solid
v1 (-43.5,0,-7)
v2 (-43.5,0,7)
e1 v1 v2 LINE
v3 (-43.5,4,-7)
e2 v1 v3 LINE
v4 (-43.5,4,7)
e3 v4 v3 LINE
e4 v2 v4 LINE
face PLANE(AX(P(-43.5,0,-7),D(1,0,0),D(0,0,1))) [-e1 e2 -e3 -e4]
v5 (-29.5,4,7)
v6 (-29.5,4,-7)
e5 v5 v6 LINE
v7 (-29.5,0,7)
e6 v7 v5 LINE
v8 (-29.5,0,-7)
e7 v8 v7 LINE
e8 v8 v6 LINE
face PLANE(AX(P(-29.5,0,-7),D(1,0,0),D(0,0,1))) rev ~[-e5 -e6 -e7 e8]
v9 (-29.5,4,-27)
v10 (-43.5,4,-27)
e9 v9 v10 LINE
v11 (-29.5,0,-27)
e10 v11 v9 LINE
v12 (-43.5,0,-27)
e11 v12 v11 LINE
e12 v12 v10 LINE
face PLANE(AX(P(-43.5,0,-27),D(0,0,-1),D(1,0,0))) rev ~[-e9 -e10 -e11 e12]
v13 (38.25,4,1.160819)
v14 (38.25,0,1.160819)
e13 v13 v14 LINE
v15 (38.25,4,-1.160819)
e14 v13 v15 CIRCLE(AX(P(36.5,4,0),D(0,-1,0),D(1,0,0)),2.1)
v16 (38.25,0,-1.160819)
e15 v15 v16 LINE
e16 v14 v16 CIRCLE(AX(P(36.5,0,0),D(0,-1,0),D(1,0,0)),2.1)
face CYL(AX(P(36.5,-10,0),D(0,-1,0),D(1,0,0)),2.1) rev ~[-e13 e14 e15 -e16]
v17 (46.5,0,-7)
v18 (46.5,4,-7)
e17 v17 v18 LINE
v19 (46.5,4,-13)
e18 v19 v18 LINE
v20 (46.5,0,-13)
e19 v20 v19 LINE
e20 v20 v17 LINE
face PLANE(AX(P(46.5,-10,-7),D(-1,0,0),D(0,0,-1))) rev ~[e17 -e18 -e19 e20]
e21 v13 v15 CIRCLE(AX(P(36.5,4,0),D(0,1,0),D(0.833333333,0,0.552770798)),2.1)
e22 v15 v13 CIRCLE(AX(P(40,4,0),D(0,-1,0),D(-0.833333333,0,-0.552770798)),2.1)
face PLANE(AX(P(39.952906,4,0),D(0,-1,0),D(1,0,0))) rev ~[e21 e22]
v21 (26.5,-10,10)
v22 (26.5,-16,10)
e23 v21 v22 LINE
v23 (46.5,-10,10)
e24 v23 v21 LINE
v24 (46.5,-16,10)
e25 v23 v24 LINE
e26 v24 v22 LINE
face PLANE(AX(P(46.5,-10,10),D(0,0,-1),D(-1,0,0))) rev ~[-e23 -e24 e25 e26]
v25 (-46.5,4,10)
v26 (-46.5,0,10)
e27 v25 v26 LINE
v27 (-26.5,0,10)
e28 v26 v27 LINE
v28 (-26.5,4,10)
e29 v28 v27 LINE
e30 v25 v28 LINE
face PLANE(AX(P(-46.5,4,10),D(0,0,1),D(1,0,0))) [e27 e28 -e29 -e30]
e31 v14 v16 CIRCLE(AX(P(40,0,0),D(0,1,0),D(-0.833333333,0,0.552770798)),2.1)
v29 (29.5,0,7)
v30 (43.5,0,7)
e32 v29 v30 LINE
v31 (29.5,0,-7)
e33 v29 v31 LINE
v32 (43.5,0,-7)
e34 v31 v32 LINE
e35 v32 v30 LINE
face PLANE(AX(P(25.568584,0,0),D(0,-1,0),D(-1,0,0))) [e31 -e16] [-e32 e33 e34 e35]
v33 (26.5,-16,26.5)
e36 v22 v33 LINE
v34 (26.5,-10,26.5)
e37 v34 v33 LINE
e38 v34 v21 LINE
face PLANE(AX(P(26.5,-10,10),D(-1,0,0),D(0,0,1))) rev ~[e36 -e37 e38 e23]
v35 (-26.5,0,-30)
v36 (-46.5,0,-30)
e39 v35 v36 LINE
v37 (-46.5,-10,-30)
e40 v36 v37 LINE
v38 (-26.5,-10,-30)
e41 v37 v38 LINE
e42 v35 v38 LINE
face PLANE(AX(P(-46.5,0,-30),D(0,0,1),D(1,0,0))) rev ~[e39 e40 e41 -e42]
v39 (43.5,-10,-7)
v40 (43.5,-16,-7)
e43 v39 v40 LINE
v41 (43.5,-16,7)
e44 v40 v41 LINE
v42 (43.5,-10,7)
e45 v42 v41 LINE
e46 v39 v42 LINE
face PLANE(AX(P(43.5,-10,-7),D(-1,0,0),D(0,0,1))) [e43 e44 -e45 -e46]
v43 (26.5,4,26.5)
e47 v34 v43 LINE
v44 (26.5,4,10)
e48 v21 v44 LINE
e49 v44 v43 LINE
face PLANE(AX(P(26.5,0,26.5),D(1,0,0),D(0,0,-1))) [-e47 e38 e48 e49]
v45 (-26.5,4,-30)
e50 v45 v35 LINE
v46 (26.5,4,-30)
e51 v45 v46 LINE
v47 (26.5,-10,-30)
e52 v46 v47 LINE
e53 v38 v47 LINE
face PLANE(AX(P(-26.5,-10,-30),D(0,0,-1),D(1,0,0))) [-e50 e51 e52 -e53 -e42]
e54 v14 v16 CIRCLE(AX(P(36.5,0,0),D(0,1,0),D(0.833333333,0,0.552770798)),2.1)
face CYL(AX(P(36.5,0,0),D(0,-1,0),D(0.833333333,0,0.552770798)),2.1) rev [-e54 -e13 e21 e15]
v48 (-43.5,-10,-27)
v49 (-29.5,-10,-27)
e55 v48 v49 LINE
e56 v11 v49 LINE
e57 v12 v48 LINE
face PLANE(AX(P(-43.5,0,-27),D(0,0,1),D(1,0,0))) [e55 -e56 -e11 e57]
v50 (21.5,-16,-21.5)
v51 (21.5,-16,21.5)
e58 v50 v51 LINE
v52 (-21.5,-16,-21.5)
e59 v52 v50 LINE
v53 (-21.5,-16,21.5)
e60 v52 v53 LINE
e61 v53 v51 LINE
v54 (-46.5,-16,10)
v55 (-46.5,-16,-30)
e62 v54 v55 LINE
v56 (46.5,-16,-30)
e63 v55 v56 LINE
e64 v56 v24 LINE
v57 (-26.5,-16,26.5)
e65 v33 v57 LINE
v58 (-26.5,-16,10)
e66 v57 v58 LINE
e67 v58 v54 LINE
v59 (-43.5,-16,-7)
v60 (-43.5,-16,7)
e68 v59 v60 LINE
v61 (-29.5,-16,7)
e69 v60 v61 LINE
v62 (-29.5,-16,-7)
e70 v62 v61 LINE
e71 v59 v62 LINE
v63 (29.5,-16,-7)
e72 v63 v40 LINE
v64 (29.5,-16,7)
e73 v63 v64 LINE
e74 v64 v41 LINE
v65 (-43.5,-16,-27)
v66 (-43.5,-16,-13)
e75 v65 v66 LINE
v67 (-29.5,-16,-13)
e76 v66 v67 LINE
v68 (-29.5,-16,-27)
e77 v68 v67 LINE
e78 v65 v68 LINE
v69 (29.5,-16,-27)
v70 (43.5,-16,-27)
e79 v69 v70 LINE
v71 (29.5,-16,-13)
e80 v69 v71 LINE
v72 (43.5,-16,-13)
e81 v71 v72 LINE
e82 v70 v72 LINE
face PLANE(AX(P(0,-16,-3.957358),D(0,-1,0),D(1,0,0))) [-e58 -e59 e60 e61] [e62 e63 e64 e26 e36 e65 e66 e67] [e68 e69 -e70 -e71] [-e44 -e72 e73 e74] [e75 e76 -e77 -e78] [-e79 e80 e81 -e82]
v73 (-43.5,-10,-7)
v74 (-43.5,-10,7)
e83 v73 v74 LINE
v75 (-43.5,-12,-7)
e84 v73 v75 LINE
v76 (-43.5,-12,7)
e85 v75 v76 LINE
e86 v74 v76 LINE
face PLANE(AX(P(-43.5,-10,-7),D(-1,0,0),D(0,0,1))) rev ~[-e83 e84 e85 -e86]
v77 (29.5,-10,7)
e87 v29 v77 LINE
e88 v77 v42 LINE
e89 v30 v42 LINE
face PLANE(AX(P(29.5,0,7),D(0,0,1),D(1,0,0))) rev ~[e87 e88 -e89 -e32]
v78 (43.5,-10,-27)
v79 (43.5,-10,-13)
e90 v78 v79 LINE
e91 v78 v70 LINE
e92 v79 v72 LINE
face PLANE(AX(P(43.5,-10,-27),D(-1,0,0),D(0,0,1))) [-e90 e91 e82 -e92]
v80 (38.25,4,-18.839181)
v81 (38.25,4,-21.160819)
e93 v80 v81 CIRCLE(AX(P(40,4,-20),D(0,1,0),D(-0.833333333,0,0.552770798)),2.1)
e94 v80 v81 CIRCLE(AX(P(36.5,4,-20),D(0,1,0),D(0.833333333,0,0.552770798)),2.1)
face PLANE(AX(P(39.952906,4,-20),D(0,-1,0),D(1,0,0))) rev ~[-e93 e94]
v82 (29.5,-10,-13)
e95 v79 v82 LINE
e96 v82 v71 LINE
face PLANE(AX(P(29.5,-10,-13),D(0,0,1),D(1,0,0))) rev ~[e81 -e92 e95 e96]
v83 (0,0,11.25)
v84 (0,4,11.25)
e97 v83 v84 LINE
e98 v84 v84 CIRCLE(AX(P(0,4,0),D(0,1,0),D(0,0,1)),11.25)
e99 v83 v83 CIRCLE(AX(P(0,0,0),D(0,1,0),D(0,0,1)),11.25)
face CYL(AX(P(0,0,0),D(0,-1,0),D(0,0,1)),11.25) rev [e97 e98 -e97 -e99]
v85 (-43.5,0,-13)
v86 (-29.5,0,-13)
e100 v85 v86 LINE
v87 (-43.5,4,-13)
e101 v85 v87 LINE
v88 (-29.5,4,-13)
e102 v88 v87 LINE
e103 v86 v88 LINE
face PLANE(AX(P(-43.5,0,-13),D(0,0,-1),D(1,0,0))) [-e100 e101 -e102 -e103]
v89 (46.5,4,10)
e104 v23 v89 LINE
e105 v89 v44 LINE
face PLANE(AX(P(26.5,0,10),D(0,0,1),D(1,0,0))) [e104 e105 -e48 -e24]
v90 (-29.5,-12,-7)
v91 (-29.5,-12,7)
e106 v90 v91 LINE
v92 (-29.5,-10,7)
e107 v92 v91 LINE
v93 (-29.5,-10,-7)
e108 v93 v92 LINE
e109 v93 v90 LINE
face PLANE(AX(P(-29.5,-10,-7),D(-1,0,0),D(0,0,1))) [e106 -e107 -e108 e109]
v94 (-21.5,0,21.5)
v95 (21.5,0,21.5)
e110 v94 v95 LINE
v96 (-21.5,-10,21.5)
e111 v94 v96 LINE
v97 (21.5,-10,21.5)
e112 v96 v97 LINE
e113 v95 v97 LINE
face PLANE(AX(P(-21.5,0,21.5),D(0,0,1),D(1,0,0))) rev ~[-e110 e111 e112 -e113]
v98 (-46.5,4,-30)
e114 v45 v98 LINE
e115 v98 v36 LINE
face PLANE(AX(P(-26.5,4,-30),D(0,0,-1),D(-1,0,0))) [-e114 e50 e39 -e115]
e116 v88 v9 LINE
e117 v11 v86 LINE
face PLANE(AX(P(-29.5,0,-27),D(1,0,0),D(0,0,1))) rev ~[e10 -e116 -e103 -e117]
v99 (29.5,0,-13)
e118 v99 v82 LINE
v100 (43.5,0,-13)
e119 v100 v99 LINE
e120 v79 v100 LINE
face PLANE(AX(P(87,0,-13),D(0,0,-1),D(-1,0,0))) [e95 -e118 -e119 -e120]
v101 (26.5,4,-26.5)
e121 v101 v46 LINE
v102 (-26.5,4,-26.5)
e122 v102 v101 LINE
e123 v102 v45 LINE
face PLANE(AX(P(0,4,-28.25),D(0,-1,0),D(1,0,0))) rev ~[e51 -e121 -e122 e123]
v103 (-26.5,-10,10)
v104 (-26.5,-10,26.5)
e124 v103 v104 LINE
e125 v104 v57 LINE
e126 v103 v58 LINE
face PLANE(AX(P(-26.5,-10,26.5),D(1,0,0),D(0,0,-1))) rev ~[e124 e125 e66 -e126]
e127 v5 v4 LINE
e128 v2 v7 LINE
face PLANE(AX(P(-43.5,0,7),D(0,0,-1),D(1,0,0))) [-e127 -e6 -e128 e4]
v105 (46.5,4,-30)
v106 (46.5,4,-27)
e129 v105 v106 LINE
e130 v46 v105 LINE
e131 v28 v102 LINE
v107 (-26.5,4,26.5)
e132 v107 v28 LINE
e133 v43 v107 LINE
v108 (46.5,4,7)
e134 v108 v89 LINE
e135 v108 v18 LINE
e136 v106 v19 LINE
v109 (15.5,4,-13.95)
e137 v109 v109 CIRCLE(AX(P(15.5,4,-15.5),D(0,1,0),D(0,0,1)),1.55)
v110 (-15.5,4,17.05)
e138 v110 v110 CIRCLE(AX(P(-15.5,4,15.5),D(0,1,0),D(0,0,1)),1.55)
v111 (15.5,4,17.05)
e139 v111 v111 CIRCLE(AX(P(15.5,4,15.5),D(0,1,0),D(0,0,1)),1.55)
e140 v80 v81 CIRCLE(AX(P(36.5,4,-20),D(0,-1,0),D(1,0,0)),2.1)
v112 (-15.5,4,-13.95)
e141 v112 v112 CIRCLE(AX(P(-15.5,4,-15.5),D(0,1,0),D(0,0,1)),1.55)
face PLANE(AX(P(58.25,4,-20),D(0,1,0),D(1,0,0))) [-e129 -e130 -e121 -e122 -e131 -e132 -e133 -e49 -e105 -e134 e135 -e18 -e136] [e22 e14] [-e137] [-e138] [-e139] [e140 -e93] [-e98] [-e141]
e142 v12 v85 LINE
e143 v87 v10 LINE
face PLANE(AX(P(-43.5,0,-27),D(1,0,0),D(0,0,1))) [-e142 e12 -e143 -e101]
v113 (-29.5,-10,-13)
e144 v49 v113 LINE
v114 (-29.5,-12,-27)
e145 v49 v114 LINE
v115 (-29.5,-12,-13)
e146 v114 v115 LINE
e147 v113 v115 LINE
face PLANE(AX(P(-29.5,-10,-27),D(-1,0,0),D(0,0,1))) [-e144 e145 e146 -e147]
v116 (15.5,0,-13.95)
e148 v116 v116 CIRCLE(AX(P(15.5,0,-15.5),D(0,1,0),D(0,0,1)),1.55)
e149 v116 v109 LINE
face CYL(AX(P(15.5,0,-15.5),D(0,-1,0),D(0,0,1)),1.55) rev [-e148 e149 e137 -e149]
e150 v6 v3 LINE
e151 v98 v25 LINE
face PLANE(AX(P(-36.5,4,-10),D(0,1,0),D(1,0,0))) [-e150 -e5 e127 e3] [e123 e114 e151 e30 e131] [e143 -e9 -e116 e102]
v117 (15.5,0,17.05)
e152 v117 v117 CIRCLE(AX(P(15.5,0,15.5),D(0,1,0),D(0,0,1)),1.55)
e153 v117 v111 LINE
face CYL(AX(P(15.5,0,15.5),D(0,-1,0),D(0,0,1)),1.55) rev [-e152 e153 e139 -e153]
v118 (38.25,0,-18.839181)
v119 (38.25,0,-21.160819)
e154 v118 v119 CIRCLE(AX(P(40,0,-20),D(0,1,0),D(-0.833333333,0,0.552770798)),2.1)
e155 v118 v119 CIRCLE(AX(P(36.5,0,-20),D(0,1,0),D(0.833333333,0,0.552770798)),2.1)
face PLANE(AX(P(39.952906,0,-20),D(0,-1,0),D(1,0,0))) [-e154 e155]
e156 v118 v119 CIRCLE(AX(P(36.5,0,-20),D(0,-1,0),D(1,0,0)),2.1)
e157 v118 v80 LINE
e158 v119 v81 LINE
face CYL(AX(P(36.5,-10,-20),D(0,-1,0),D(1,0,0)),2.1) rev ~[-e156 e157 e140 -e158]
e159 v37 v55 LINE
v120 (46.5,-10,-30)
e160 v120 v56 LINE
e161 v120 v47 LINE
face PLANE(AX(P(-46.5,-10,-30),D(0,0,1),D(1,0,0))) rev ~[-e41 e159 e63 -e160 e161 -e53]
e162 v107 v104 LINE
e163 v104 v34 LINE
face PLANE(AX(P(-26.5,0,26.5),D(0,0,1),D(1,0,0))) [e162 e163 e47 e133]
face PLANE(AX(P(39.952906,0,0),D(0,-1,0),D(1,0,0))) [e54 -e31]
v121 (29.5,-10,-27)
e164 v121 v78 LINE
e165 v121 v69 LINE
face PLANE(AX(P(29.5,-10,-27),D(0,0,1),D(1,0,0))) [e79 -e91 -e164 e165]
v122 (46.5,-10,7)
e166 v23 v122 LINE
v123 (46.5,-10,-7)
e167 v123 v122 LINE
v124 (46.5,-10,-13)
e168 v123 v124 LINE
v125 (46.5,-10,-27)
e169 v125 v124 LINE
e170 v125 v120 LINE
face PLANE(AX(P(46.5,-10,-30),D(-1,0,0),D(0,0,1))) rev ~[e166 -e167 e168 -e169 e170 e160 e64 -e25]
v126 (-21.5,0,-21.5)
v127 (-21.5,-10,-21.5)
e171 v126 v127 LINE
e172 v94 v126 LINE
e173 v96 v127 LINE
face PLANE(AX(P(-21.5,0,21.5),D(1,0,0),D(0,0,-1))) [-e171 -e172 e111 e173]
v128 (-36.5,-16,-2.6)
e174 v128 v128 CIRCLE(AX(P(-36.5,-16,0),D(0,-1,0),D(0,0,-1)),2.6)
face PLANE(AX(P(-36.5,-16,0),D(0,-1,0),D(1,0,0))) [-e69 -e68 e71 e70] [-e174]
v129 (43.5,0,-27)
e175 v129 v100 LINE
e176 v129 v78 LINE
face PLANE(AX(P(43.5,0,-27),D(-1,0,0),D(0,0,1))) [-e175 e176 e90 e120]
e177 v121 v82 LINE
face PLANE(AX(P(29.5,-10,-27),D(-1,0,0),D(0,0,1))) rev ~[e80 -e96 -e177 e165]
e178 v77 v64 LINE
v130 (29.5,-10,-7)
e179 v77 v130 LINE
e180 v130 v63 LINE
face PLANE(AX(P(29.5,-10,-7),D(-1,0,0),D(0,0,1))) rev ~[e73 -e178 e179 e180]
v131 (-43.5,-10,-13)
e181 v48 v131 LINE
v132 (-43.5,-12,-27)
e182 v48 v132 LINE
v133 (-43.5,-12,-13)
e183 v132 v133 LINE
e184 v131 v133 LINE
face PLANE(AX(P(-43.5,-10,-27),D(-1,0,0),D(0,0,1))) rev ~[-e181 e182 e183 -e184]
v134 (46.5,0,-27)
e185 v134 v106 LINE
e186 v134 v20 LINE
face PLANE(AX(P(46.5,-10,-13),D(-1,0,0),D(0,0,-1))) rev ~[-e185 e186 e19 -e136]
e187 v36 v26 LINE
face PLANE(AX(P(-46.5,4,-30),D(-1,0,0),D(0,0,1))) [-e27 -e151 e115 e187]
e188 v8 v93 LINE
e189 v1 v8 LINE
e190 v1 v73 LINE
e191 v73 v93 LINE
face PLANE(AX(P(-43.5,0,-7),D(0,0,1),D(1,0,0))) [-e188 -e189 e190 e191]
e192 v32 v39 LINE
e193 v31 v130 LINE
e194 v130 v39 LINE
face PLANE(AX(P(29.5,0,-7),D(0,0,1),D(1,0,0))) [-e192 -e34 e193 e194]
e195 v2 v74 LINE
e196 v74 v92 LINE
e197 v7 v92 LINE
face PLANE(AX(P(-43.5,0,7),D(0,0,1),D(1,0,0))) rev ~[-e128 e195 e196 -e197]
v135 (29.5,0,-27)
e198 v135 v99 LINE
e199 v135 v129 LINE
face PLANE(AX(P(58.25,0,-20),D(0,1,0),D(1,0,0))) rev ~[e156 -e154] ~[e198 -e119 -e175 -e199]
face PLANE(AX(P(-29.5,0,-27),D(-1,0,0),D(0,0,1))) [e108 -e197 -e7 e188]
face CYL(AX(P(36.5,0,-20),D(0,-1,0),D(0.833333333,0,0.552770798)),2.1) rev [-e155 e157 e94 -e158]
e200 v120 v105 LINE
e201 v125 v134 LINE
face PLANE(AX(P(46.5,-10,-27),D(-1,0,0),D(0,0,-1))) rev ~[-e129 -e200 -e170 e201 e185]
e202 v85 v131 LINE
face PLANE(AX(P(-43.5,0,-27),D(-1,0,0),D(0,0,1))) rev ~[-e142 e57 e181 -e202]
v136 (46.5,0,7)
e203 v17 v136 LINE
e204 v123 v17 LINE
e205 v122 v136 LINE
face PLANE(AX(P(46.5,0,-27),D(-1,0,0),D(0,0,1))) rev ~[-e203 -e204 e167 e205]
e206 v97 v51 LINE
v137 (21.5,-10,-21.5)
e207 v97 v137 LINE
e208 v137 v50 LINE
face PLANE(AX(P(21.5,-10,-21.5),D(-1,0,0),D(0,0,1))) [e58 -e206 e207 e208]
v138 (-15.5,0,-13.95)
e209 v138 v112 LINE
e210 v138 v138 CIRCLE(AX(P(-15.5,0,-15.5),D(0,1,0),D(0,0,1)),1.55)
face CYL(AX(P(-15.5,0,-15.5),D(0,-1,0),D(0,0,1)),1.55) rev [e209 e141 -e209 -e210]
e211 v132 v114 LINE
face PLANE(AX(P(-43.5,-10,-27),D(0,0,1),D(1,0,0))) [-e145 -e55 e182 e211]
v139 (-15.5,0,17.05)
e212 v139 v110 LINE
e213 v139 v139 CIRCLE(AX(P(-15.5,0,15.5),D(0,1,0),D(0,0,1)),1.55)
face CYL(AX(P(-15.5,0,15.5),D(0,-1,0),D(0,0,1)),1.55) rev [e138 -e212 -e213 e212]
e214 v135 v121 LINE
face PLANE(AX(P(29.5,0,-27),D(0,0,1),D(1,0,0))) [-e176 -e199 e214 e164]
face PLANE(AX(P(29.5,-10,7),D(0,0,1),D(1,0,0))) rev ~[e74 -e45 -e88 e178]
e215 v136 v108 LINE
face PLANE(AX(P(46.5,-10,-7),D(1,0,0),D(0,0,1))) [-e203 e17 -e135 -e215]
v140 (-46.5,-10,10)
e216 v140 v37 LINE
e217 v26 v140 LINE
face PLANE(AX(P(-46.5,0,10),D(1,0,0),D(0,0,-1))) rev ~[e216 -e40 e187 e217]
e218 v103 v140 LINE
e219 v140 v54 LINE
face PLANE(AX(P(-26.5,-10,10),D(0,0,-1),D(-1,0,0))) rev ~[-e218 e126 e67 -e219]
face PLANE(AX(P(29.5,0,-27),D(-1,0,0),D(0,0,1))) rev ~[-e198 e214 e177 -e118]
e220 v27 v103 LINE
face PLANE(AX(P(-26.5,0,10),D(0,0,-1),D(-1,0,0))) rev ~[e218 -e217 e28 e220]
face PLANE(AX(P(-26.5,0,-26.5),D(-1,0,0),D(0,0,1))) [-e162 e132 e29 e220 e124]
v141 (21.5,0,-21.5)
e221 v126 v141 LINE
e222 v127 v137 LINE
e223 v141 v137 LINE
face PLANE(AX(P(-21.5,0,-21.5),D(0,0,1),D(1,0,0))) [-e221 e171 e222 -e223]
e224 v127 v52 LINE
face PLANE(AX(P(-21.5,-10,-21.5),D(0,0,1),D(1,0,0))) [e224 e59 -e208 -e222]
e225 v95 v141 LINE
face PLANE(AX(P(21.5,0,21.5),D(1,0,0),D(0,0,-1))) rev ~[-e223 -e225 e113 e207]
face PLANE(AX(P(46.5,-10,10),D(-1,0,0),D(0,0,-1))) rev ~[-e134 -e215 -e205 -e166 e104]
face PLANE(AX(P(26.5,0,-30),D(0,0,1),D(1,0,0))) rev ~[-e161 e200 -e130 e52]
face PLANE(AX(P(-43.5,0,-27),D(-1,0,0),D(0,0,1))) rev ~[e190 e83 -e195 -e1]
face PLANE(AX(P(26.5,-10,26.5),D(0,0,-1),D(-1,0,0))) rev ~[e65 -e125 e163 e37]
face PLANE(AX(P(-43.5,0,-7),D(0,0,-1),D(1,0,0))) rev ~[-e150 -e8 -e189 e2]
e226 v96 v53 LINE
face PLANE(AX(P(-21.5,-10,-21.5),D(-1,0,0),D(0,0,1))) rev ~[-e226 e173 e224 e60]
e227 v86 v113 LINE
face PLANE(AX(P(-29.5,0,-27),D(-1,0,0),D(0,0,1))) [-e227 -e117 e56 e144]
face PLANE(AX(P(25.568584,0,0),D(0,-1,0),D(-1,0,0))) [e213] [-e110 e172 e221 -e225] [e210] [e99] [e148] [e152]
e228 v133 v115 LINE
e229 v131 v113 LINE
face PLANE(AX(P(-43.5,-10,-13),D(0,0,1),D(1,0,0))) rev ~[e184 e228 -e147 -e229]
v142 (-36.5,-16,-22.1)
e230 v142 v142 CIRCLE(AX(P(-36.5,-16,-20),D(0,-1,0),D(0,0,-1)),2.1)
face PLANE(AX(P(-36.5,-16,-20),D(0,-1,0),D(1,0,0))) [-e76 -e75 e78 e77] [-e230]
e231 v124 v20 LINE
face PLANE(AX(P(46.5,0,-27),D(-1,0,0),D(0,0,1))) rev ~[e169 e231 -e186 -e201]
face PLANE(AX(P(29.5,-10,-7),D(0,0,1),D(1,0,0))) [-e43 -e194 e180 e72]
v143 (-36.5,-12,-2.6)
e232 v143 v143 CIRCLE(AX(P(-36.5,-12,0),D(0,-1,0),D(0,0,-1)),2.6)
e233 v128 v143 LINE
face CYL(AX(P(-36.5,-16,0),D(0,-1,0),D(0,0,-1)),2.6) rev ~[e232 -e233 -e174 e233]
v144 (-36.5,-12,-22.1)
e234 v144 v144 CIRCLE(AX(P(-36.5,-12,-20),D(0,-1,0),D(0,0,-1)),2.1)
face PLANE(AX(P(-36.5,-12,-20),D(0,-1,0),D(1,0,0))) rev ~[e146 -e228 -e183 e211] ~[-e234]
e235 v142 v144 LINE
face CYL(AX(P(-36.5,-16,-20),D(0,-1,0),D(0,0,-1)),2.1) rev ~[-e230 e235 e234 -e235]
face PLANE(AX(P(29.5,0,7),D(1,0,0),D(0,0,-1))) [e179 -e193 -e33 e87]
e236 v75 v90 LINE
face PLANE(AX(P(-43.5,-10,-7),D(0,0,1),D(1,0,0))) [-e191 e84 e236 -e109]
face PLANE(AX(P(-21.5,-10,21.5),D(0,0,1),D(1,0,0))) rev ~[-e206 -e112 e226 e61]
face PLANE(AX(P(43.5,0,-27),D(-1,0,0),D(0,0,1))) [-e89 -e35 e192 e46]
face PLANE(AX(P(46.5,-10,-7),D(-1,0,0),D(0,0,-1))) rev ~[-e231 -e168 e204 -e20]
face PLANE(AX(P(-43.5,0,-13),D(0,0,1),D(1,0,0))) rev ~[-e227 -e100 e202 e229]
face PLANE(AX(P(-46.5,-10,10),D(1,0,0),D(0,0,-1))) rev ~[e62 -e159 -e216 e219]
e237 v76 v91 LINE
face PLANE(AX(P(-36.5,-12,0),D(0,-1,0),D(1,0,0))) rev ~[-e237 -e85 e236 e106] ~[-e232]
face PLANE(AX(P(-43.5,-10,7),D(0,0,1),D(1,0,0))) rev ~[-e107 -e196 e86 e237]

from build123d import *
from build123d.topology import SkipClean

# Parameters (mm, degrees)
SKETCH2_R            = 11.25
SKETCH2_R_2          = 1.55
SKETCH2_R_3          = 2.1
BOSS_EXTRUDE1_DEPTH  = 4
SKETCH3_W            = 57.5
SKETCH3_H            = 14
SKETCH3_W_2          = 43
SKETCH3_H_2          = 43
BOSS_EXTRUDE2_DEPTH  = 10
SKETCH4_W            = 63.5
SKETCH4_H            = 20
SKETCH4_R            = 2.1
BOSS_EXTRUDE3_DEPTH  = 4
BOSS_EXTRUDE4_DEPTH  = 10
SKETCH6_W            = 20
SKETCH6_H            = 40
CUT_EXTRUDE1_DEPTH   = 31
SKETCH7_W            = 3
SKETCH7_H            = 40
BOSS_EXTRUDE5_DEPTH  = 10
SKETCH8_W            = 20
SKETCH8_H            = 40
CUT_EXTRUDE2_DEPTH   = 31
SKETCH9_W            = 3
SKETCH9_H            = 34
BOSS_EXTRUDE6_DEPTH  = 10
SKETCH10_R           = 2.1
CUT_EXTRUDE3_DEPTH   = 31
BOSS_EXTRUDE7_DEPTH  = 4
SKETCH12_W           = 0.5
SKETCH12_H           = 14
CUT_EXTRUDE4_DEPTH   = 31
SKETCH13_W           = 3
SKETCH13_H           = 34
BOSS_EXTRUDE8_DEPTH  = 10
SKETCH15_R           = 2.1
BOSS_EXTRUDE9_DEPTH  = 4
SKETCH16_W           = 14
SKETCH16_H           = 34
SKETCH16_H_2         = 3
BOSS_EXTRUDE10_DEPTH = 10
SKETCH17_W           = 53
SKETCH17_H           = 3.5
BOSS_EXTRUDE11_DEPTH = 14
SKETCH19_W           = 43
SKETCH19_H           = 43
SKETCH19_W_2         = 14
SKETCH19_H_2         = 14
BOSS_EXTRUDE12_DEPTH = 6
SKETCH20_W           = 14
SKETCH20_H           = 14
CUT_EXTRUDE5_DEPTH   = 6
SKETCH21_W           = 14
SKETCH21_H           = 14
SKETCH21_R           = 2.1
SKETCH21_R_2         = 2.6
BOSS_EXTRUDE13_DEPTH = 4


with BuildPart() as part:
    # Sketch2 → Boss-Extrude1 (new body)
    with BuildSketch(Plane(origin=(0, 0, 0), x_dir=(1, 0, 0), z_dir=(0, 1, 0))):
        Polygon((-26.5, 26.5), (26.5, 26.5), (26.5, 10), (90, 10), (90, -10), (26.5, -10), (26.5, -26.5), (-26.5, -26.5), align=None)
        with Locations(Location((0, 0, 0), (0, 0, 270))):
            Circle(SKETCH2_R, mode=Mode.SUBTRACT)
        with Locations(Location((-15.5, 15.5, 0), (0, 0, 270))):
            Circle(SKETCH2_R_2, mode=Mode.SUBTRACT)
        with Locations(Location((15.5, 15.5, 0), (0, 0, 270))):
            Circle(SKETCH2_R_2, mode=Mode.SUBTRACT)
        with Locations(Location((15.5, -15.5, 0), (0, 0, 270))):
            Circle(SKETCH2_R_2, mode=Mode.SUBTRACT)
        with Locations(Location((-15.5, -15.5, 0), (0, 0, 270))):
            Circle(SKETCH2_R_2, mode=Mode.SUBTRACT)
        with Locations(Location((40, 0, 0), (0, 0, 270))):
            Circle(SKETCH2_R_3, mode=Mode.SUBTRACT)
        with Locations(Location((60, 0, 0), (0, 0, 270))):
            Circle(SKETCH2_R_3, mode=Mode.SUBTRACT)
        with Locations(Location((80, 0, 0), (0, 0, 270))):
            Circle(SKETCH2_R_3, mode=Mode.SUBTRACT)
    extrude(amount=BOSS_EXTRUDE1_DEPTH)

    # Sketch3 → Boss-Extrude2 (add)
    with BuildSketch(Plane(origin=(0, 0, 0), x_dir=(1, 0, 0), z_dir=(0, 1, 0))):
        Polygon((-26.5, -26.5), (26.5, -26.5), (26.5, -10), (90, -10), (90, 10), (26.5, 10), (26.5, 26.5), (-26.5, 26.5), align=None)
        with Locations((58.25, 0)):
            Rectangle(SKETCH3_W, SKETCH3_H, mode=Mode.SUBTRACT)
        Rectangle(SKETCH3_W_2, SKETCH3_H_2, mode=Mode.SUBTRACT)
    extrude(amount=-BOSS_EXTRUDE2_DEPTH)

    # Sketch4 → Boss-Extrude3 (add)
    with BuildSketch(Plane(origin=(0, 4, 0), x_dir=(1, 0, 0), z_dir=(0, 1, 0))):
        with Locations((58.25, 20)):
            Rectangle(SKETCH4_W, SKETCH4_H)
        with Locations(Location((80, 20, 0), (0, 0, 270))):
            Circle(SKETCH4_R, mode=Mode.SUBTRACT)
        with Locations(Location((60, 20, 0), (0, 0, 270))):
            Circle(SKETCH4_R, mode=Mode.SUBTRACT)
        with Locations(Location((40, 20, 0), (0, 0, 270))):
            Circle(SKETCH4_R, mode=Mode.SUBTRACT)
    extrude(amount=-BOSS_EXTRUDE3_DEPTH)

    # Sketch5 → Boss-Extrude4 (add)
    with BuildSketch(Plane.XZ):
        Polygon((90, -10), (26.5, -10), (26.5, -26.5), (26.5, -30), (90, -30), align=None)
        Polygon((87, -13), (29.5, -13), (29.5, -26.5), (29.5, -27), (87, -27), align=None, mode=Mode.SUBTRACT)
    extrude(amount=BOSS_EXTRUDE4_DEPTH)

    # Sketch6 → Cut-Extrude1 (cut)
    with BuildSketch(Plane.XZ.offset(10)):
        with Locations((80, -10)):
            Rectangle(SKETCH6_W, SKETCH6_H)
    extrude(amount=-CUT_EXTRUDE1_DEPTH, mode=Mode.SUBTRACT)

    # Sketch7 → Boss-Extrude5 (add)
    with BuildSketch(Plane.XZ):
        with Locations((68.5, -10)):
            Rectangle(SKETCH7_W, SKETCH7_H)
    extrude(amount=BOSS_EXTRUDE5_DEPTH)

    # Sketch8 → Cut-Extrude2 (cut)
    with BuildSketch(Plane.XZ.offset(10)):
        with Locations((60, -10)):
            Rectangle(SKETCH8_W, SKETCH8_H)
    extrude(amount=-CUT_EXTRUDE2_DEPTH, mode=Mode.SUBTRACT)

    # Sketch9 → Boss-Extrude6 (add)
    with BuildSketch(Plane.XZ):
        with Locations((48.5, -10)):
            Rectangle(SKETCH9_W, SKETCH9_H)
    extrude(amount=BOSS_EXTRUDE6_DEPTH)

    # Sketch10 → Cut-Extrude3 (cut)
    with BuildSketch(Plane.XZ.offset(10)):
        with Locations((36.5, -20)):
            Circle(SKETCH10_R)
        with Locations((36.5, 0)):
            Circle(SKETCH10_R)
    extrude(amount=-CUT_EXTRUDE3_DEPTH, mode=Mode.SUBTRACT)

    # Sketch11 → Boss-Extrude7 (add)
    with SkipClean():  # the faces are left unmerged after this step: merging them gives an invalid solid
        with BuildSketch(Plane.XZ):
            with BuildLine():
                ThreePointArc((38.25, -18.839181323), (38.6, -20), (38.25, -21.160818677))
                ThreePointArc((38.25, -21.160818677), (42.1, -20), (38.25, -18.839181323))
            make_face()
            with BuildLine():
                ThreePointArc((38.25, -1.160818677), (42.1, 0), (38.25, 1.160818677))
                ThreePointArc((38.25, 1.160818677), (38.6, 0), (38.25, -1.160818677))
            make_face()
        extrude(amount=-BOSS_EXTRUDE7_DEPTH)

    # Sketch12 → Cut-Extrude4 (cut)
    with SkipClean():  # the faces are left unmerged after this step: merging them gives an invalid solid
        with BuildSketch(Plane.XZ.offset(10)):
            Polygon((50, -30), (46.5, -30), (46.5, -36.524115579), (58.005951577, -36.524115579), (58.005951577, 17.068151821), (46.5, 17.068151821), (46.5, 10), (50, 10), align=None)
            Polygon((47, -27), (46.5, -27), (46.5, -30), (50, -30), (50, 10), (46.5, 10), (46.5, 7), (47, 7), (47, -7), (46.5, -7), (46.5, -13), (47, -13), align=None)
            Polygon((46.5, -13), (46.5, -20), (46.5, -27), (47, -27), (47, -13), align=None)
            with Locations((46.75, 0)):
                Rectangle(SKETCH12_W, SKETCH12_H)
        extrude(amount=-CUT_EXTRUDE4_DEPTH, mode=Mode.SUBTRACT)

    # Sketch13 → Boss-Extrude8 (add)
    with SkipClean():  # the faces are left unmerged after this step: merging them gives an invalid solid
        with BuildSketch(Plane.XZ):
            with Locations((45, -10)):
                Rectangle(SKETCH13_W, SKETCH13_H)
        extrude(amount=BOSS_EXTRUDE8_DEPTH)

    # Sketch15 → Boss-Extrude9 (add)
    with SkipClean():  # the faces are left unmerged after this step: merging them gives an invalid solid
        with BuildSketch(Plane(origin=(0, 4, 0), x_dir=(1, 0, 0), z_dir=(0, 1, 0))):
            Polygon((-26.5, 30), (-46.5, 30), (-46.5, -10), (-26.5, -10), (-26.5, 26.5), align=None)
            with Locations(Location((-36.5, 0, 0), (0, 0, 270))):
                Circle(SKETCH15_R, mode=Mode.SUBTRACT)
            with Locations(Location((-36.5, 20, 0), (0, 0, 270))):
                Circle(SKETCH15_R, mode=Mode.SUBTRACT)
        extrude(amount=-BOSS_EXTRUDE9_DEPTH)

    # Sketch16 → Boss-Extrude10 (add)
    # profile 1 of 3: a face of its own
    with SkipClean():  # the faces are left unmerged after this step: merging them gives an invalid solid
        with BuildSketch(Plane.XZ):
            Polygon((-46.5, 10), (-46.5, -30), (-26.5, -30), (-26.5, -26.5), (-26.5, 10), align=None)
            with Locations((-36.5, -10)):
                Rectangle(SKETCH16_W, SKETCH16_H, mode=Mode.SUBTRACT)
        # profile 2 of 3: a face of its own
        with BuildSketch(Plane.XZ):
            with Locations((-36.5, -11.5)):
                Rectangle(SKETCH16_W, SKETCH16_H_2)
        # profile 3 of 3: a face of its own
        with BuildSketch(Plane.XZ):
            with Locations((-36.5, -8.5)):
                Rectangle(SKETCH16_W, SKETCH16_H_2)
        extrude(amount=BOSS_EXTRUDE10_DEPTH)

    # Sketch17 → Boss-Extrude11 (add)
    with SkipClean():  # the faces are left unmerged after this step: merging them gives an invalid solid
        with BuildSketch(Plane.XZ.offset(10)):
            with Locations((0, -28.25)):
                Rectangle(SKETCH17_W, SKETCH17_H)
        extrude(amount=-BOSS_EXTRUDE11_DEPTH)

    # Sketch19 → Boss-Extrude12 (add)
    with SkipClean():  # the faces are left unmerged after this step: merging them gives an invalid solid
        with BuildSketch(Plane.XZ.offset(10)):
            Polygon((-46.5, 10), (-46.5, -30), (46.5, -30), (46.5, 10), (26.5, 10), (26.5, 26.5), (-26.5, 26.5), (-26.5, 10), align=None)
            Rectangle(SKETCH19_W, SKETCH19_H, mode=Mode.SUBTRACT)
            with Locations((36.5, -20)):
                Rectangle(SKETCH19_W_2, SKETCH19_H_2, mode=Mode.SUBTRACT)
            with Locations((36.5, 0)):
                Rectangle(SKETCH19_W_2, SKETCH19_H_2, mode=Mode.SUBTRACT)
            with Locations((-36.5, -20)):
                Rectangle(SKETCH19_W_2, SKETCH19_H_2, mode=Mode.SUBTRACT)
            with Locations((-36.5, 0)):
                Rectangle(SKETCH19_W_2, SKETCH19_H_2, mode=Mode.SUBTRACT)
        extrude(amount=BOSS_EXTRUDE12_DEPTH)

    # Sketch20 → Cut-Extrude5 (cut)
    with SkipClean():  # the faces are left unmerged after this step: merging them gives an invalid solid
        with BuildSketch(Plane.XZ):
            with Locations((-36.5, -20)):
                Rectangle(SKETCH20_W, SKETCH20_H)
            with Locations((-36.5, 0)):
                Rectangle(SKETCH20_W, SKETCH20_H)
        extrude(amount=-CUT_EXTRUDE5_DEPTH, mode=Mode.SUBTRACT)

    # Sketch21 → Boss-Extrude13 (add)
    # profile 1 of 2: a face of its own
    with SkipClean():  # the faces are left unmerged after this step: merging them gives an invalid solid
        with BuildSketch(Plane.XZ.offset(16)):
            with Locations((-36.5, -20)):
                Rectangle(SKETCH21_W, SKETCH21_H)
            with Locations(Location((-36.5, -20, 0), (0, 0, 270))):
                Circle(SKETCH21_R, mode=Mode.SUBTRACT)
        # profile 2 of 2: a face of its own
        with BuildSketch(Plane.XZ.offset(16)):
            with Locations((-36.5, 0)):
                Rectangle(SKETCH21_W, SKETCH21_H)
            with Locations(Location((-36.5, 0, 0), (0, 0, 270))):
                Circle(SKETCH21_R_2, mode=Mode.SUBTRACT)
        extrude(amount=-BOSS_EXTRUDE13_DEPTH)


solid = part.part
